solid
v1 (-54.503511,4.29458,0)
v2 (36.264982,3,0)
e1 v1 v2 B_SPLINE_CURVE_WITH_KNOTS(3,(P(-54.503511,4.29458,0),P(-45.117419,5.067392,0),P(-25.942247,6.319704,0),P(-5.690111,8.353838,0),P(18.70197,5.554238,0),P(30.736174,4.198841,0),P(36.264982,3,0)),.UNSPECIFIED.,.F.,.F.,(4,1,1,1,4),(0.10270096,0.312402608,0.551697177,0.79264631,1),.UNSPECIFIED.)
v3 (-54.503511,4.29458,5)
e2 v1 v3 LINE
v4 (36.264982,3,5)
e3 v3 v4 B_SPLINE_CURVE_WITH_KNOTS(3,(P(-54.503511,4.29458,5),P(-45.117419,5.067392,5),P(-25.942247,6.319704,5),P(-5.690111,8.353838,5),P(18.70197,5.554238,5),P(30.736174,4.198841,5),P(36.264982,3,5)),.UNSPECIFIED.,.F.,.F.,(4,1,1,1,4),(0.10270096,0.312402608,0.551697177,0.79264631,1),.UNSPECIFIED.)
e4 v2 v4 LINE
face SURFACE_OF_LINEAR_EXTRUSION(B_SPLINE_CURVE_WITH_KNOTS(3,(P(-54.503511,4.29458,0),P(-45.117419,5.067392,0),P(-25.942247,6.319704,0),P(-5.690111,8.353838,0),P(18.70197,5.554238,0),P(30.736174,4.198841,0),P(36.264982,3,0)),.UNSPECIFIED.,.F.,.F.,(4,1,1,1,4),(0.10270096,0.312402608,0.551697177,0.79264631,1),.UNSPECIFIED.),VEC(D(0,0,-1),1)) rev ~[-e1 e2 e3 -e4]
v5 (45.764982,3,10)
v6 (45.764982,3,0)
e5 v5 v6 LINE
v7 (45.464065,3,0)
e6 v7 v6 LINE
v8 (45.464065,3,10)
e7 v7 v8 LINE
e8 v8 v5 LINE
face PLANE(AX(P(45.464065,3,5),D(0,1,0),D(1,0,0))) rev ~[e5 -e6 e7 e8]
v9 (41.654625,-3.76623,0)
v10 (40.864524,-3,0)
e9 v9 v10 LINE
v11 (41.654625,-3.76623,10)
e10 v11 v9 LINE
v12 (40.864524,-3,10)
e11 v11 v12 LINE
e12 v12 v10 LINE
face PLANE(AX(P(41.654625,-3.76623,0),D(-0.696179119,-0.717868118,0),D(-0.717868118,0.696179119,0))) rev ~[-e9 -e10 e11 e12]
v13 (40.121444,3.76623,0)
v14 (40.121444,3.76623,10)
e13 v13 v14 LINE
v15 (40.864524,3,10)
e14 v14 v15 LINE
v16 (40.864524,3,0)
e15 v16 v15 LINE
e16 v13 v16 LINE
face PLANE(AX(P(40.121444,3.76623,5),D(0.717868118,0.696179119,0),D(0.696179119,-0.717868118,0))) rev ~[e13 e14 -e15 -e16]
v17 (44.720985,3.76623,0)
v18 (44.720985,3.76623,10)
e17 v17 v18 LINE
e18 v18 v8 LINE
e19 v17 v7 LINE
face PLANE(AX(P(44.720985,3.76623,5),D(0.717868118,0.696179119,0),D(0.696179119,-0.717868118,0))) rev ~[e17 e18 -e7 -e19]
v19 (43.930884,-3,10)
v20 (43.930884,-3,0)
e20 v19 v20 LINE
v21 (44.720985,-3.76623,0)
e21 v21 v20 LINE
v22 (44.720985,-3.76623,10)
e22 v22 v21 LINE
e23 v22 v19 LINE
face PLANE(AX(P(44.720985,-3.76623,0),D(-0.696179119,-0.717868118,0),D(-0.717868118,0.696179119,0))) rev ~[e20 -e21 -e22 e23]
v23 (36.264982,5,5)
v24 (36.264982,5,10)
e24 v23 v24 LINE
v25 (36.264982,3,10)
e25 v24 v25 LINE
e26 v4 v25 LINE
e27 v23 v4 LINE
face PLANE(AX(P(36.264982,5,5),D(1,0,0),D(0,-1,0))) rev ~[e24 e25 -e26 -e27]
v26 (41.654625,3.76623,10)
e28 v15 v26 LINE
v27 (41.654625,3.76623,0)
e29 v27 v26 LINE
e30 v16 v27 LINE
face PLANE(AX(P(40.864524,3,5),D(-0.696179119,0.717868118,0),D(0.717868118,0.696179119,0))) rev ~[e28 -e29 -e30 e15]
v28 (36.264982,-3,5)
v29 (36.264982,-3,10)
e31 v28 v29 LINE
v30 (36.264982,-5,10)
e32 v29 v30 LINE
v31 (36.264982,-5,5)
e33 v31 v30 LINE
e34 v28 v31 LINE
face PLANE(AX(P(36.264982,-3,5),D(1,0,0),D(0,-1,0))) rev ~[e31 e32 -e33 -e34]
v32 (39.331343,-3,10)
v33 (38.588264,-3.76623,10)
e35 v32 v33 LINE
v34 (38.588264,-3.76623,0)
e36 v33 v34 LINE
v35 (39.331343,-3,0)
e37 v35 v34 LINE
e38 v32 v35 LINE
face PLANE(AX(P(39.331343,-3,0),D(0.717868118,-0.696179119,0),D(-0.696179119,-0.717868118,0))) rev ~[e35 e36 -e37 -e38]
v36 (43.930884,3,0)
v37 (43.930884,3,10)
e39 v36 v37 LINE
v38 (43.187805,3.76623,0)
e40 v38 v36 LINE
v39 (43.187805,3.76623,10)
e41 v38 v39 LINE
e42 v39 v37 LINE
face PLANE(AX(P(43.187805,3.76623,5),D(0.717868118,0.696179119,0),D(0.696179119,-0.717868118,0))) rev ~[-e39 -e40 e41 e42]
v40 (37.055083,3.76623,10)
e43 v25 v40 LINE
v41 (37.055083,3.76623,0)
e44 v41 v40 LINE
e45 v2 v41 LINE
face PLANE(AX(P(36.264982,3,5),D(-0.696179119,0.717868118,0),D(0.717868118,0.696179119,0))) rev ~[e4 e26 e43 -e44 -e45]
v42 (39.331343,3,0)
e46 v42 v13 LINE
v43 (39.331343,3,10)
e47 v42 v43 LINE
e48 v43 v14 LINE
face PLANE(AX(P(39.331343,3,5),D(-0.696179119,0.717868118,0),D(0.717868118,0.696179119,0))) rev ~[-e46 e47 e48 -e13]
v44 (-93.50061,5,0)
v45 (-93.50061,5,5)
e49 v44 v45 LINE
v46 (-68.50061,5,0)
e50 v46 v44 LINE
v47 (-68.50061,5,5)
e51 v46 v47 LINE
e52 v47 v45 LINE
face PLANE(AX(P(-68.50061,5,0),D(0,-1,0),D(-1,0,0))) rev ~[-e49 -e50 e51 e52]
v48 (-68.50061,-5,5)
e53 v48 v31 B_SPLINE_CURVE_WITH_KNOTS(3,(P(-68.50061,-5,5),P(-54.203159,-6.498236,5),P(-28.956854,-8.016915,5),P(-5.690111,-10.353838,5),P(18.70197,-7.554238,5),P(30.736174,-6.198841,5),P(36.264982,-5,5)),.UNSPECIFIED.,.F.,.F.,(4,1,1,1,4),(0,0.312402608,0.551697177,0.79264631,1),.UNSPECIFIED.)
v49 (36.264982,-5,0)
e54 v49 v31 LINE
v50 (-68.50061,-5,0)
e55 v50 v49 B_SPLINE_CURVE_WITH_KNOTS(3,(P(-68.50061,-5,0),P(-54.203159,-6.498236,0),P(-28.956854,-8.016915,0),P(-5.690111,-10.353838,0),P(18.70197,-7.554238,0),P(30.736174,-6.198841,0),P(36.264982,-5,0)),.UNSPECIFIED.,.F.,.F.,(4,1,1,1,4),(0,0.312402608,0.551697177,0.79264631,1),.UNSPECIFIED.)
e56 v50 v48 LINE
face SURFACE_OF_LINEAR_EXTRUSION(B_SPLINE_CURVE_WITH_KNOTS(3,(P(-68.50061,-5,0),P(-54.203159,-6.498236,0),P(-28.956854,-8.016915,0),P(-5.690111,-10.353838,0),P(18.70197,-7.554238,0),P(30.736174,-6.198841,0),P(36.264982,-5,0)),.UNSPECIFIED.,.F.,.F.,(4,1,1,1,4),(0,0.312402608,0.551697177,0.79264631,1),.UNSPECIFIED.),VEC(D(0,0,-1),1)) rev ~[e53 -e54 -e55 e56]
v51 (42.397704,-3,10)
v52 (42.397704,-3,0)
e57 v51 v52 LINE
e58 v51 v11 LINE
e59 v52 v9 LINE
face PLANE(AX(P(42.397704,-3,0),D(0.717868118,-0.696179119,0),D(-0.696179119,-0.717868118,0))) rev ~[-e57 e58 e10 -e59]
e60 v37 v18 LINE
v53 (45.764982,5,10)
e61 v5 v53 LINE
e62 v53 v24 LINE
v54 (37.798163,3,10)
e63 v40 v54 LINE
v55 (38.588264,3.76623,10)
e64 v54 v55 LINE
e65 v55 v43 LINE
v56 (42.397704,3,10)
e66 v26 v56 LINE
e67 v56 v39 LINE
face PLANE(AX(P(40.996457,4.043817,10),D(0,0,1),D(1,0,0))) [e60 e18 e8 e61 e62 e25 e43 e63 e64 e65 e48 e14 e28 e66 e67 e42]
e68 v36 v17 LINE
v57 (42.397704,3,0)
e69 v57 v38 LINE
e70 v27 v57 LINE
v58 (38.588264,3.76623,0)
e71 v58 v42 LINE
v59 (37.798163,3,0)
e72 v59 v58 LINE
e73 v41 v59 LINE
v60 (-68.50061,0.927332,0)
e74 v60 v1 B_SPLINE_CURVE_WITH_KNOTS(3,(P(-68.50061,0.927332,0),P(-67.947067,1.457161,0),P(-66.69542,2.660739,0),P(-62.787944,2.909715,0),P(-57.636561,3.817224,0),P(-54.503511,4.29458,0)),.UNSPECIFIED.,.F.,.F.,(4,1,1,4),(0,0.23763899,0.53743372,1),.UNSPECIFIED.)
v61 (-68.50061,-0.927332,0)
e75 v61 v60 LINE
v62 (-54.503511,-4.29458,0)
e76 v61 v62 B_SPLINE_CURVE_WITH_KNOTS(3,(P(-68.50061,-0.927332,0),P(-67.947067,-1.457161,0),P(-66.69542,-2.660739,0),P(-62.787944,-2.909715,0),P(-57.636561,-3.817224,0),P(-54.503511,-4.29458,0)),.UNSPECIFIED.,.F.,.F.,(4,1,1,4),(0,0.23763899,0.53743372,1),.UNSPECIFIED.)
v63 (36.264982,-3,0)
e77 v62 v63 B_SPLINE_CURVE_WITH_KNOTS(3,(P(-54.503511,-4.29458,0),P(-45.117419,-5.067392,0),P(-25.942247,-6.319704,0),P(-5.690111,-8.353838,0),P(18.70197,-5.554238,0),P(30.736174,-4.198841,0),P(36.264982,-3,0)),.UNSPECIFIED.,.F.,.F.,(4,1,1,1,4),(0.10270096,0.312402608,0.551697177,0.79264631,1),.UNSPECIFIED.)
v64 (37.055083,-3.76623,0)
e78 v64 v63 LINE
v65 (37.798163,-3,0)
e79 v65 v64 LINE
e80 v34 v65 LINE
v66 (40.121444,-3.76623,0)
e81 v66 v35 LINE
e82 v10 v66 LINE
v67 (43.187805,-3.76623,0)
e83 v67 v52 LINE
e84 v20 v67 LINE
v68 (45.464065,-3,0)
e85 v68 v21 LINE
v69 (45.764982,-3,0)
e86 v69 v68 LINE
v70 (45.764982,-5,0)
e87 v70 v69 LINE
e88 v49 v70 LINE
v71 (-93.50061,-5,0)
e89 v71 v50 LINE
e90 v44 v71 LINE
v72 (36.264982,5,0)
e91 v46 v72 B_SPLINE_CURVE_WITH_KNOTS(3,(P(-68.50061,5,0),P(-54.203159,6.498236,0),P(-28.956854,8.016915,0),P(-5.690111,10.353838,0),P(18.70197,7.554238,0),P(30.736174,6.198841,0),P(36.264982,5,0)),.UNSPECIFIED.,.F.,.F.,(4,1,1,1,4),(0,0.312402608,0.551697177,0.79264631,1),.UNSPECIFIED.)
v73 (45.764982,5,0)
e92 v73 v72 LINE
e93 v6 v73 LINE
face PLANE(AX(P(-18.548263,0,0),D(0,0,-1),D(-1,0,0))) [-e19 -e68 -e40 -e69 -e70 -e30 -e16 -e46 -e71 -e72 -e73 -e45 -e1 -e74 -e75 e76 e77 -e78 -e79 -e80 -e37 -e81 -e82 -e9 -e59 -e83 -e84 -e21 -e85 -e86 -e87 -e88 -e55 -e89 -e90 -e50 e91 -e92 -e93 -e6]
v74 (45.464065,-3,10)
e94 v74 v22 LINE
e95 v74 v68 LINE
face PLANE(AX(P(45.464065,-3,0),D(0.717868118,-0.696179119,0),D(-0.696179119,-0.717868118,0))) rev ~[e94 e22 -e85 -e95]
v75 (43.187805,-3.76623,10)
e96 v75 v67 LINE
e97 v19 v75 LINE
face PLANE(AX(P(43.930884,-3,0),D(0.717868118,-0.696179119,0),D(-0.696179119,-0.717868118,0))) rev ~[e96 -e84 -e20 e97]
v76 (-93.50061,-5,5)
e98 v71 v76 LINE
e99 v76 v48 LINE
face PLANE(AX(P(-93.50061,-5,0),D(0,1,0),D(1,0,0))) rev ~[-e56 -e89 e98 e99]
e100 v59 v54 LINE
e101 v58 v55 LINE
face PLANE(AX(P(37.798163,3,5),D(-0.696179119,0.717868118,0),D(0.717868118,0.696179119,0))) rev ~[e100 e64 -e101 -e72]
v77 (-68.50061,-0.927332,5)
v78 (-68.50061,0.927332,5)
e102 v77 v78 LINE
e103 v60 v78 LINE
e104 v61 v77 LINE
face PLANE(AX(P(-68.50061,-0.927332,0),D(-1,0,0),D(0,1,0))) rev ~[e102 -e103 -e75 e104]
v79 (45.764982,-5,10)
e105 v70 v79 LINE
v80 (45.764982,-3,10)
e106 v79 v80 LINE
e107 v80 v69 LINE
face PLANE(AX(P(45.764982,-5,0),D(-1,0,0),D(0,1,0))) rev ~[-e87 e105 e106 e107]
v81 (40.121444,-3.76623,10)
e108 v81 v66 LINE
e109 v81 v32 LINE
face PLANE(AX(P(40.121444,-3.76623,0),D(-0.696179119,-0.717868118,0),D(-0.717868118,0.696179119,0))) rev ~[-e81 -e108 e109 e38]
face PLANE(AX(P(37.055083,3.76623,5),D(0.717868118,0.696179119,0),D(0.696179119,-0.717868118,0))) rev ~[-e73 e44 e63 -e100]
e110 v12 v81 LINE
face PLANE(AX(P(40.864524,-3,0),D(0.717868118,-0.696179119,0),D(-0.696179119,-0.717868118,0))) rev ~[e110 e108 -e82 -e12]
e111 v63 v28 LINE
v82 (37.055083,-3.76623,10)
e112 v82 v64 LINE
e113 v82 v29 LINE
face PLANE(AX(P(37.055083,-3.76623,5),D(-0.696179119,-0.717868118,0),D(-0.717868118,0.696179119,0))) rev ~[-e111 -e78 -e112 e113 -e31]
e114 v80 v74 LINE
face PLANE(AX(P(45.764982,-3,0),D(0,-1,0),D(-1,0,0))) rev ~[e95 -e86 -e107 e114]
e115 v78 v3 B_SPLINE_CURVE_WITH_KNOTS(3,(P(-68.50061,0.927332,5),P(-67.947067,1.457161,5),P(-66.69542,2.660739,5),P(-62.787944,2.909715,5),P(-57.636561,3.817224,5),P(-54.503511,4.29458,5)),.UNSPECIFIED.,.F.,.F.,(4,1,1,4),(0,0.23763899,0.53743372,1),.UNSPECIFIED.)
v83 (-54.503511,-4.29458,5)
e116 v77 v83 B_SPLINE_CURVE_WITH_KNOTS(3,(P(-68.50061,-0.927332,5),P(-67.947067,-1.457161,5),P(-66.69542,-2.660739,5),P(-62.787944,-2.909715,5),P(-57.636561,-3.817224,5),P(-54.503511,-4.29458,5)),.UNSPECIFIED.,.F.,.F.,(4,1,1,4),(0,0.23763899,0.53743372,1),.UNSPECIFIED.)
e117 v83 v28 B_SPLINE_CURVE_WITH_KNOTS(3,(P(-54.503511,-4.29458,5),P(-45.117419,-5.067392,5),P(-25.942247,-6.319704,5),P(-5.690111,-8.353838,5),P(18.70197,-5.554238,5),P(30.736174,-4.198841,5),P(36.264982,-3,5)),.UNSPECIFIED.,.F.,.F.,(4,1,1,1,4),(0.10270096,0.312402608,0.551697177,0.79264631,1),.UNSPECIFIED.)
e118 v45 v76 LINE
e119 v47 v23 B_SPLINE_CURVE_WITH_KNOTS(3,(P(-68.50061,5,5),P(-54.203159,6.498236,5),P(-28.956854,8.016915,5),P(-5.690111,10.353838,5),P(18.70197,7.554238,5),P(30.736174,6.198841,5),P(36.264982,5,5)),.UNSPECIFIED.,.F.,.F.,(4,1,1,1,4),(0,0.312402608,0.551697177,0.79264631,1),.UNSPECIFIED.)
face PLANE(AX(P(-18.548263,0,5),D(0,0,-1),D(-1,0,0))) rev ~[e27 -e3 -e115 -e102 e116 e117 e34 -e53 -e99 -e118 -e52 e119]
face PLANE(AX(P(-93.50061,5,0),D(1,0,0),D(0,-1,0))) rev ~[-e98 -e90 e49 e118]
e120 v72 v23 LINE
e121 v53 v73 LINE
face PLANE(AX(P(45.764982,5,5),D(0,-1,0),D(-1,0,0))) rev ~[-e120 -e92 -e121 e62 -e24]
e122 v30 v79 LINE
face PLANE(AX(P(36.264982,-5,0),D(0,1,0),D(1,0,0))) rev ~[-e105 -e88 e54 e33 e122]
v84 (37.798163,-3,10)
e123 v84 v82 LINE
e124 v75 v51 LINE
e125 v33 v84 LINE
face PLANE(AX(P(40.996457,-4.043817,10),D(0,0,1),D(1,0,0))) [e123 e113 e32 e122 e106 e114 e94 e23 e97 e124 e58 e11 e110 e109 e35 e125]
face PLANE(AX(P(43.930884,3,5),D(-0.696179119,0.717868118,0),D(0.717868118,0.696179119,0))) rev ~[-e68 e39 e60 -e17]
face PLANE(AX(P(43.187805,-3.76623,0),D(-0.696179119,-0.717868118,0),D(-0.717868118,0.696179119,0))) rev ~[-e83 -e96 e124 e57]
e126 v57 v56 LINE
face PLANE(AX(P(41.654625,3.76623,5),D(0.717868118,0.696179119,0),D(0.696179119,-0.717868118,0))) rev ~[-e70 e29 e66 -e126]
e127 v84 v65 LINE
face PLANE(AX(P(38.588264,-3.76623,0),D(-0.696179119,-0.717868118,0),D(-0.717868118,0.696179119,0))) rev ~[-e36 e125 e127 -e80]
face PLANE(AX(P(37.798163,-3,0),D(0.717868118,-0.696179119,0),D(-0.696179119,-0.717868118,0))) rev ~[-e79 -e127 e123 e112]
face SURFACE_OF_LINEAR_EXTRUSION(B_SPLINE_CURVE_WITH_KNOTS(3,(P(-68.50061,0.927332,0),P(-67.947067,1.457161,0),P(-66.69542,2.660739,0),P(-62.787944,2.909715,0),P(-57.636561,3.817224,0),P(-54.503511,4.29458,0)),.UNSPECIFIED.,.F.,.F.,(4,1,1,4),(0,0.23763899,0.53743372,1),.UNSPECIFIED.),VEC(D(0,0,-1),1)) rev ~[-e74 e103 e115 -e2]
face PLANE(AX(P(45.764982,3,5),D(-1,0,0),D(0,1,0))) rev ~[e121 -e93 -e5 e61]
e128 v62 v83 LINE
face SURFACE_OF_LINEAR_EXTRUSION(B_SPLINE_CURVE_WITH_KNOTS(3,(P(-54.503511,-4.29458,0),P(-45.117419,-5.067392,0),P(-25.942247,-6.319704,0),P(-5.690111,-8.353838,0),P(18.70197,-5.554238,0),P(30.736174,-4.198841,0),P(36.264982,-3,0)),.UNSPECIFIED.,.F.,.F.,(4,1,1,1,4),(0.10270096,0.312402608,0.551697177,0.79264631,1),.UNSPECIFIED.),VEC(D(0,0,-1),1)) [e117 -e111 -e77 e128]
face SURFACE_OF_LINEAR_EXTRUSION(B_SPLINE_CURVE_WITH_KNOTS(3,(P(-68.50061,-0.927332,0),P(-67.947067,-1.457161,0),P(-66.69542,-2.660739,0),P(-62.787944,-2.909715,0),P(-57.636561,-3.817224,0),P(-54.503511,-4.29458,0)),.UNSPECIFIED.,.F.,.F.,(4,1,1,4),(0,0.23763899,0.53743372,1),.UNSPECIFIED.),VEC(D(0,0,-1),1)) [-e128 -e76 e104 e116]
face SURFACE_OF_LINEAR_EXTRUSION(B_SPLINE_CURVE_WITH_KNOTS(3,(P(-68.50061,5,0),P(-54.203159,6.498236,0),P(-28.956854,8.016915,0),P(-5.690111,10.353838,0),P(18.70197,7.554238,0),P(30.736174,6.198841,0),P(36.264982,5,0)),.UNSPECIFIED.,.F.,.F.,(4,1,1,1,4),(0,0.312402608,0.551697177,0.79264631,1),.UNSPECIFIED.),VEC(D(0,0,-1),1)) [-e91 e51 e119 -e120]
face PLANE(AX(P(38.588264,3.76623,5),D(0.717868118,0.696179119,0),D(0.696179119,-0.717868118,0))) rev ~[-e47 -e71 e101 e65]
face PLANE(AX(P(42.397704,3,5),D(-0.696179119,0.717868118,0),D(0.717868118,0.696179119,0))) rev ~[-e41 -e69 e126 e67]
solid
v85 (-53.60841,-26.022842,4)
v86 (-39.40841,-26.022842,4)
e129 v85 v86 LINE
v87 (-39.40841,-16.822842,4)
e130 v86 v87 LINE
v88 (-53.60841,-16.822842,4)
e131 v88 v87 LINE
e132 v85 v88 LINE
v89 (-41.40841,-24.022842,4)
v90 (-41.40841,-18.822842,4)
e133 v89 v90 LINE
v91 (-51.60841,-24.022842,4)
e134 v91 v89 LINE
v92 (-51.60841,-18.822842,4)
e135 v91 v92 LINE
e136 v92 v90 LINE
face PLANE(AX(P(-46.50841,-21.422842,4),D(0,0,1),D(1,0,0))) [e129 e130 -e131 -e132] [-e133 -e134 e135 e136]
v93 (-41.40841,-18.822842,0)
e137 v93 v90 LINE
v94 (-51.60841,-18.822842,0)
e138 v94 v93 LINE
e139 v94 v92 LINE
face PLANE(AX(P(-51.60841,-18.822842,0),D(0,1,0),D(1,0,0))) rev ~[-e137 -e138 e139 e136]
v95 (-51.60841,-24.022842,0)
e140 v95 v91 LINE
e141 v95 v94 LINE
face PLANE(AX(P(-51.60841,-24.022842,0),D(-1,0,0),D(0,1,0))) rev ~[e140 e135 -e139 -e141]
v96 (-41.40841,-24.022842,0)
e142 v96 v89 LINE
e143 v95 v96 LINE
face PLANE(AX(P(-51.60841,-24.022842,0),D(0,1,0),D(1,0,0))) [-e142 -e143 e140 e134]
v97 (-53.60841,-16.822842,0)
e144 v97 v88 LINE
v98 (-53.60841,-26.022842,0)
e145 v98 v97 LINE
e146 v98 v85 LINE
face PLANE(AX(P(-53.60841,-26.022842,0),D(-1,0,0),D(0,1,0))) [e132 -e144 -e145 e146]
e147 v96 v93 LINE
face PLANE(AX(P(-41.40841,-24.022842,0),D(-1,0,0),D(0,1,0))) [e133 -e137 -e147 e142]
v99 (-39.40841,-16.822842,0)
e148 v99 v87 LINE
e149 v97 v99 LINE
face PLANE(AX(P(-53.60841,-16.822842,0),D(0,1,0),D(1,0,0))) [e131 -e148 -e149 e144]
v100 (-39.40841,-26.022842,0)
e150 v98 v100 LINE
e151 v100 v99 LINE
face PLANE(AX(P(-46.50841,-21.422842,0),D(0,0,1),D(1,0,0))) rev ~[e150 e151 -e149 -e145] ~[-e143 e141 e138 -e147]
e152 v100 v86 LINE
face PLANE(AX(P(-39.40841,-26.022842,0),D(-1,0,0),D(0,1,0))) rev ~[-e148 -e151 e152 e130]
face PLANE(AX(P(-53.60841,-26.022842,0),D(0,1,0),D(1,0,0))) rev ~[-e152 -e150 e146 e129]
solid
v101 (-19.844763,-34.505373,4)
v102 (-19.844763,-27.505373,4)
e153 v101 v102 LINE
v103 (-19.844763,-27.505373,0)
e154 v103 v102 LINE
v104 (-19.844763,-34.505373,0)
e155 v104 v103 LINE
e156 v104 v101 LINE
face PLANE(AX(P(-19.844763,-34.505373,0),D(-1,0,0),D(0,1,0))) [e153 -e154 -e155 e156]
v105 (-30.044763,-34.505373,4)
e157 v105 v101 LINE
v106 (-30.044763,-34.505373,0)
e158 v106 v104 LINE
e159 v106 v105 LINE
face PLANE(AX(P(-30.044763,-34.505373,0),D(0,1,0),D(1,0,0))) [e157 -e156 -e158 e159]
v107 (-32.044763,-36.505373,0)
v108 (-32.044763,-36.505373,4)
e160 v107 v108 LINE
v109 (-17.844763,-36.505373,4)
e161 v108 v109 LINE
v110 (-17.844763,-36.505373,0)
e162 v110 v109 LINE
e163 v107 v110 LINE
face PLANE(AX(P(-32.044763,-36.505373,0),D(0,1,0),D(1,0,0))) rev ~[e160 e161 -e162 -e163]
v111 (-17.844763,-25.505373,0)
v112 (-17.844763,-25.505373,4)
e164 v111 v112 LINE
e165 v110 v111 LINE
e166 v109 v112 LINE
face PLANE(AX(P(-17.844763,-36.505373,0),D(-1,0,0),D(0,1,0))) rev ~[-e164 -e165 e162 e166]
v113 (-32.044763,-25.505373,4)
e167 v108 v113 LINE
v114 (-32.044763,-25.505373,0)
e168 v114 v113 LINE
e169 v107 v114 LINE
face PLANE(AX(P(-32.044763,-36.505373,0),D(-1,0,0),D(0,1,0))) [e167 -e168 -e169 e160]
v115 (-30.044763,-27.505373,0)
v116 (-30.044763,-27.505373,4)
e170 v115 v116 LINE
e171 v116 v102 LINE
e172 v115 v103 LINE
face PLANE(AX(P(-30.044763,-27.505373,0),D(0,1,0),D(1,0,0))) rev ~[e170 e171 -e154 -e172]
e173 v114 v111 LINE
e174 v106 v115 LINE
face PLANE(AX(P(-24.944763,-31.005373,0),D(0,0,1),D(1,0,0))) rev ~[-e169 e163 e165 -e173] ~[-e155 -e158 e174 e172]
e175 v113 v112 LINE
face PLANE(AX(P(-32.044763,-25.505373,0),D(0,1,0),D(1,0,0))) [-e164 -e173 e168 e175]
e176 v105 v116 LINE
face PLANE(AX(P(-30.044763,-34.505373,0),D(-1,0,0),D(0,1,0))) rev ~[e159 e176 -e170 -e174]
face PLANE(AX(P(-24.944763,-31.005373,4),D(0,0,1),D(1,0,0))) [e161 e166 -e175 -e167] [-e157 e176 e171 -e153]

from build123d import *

# Parameters (mm, degrees)
F1_DEPTH = 5
F2_W     = 14.2
F2_H     = 9.2
F2_W_2   = 10.2
F2_H_2   = 5.2
F3_DEPTH = 4
F2_H_3   = 11
F2_H_4   = 7
F5_DEPTH = 5


with BuildPart() as f1:
    # F0 (on Top) → F1 (new body)
    with BuildSketch(Plane.XY):
        with BuildLine():
            add(Edge.make_bspline(
                [(-68.500610282, 5), (-54.2031592123, 6.498236069), (-28.9568536919, 8.0169149267), (-5.690111388, 10.3538383758), (18.7019701535, 7.5542384302), (30.7361740896, 6.1988411601), (36.2649820745, 5)],
                knots=[0, 0, 0, 0, 0.3124026076, 0.5516971774, 0.7926463097, 1, 1, 1, 1], degree=3))
            Line((-68.500610282, 5), (-93.500610282, 5))
            Line((-93.500610282, 5), (-93.500610282, -5))
            Line((-93.500610282, -5), (-68.500610282, -5))
            add(Edge.make_bspline(
                [(-68.500610282, -5), (-54.2031592123, -6.498236069), (-28.9568536919, -8.0169149267), (-5.690111388, -10.3538383758), (18.7019701535, -7.5542384302), (30.7361740896, -6.1988411601), (36.2649820745, -5)],
                knots=[0, 0, 0, 0, 0.3124026076, 0.5516971774, 0.7926463097, 1, 1, 1, 1], degree=3))
            Line((36.2649820745, -5), (45.7649820745, -5))
            Line((45.7649820745, -5), (45.7649820745, -3))
            Line((45.7649820745, -3), (45.4640649259, -3))
            Line((45.4640649259, -3), (44.7209854505, -3.7662296239))
            Line((44.7209854505, -3.7662296239), (43.9308844507, -3))
            Line((43.9308844507, -3), (43.1878049753, -3.7662296239))
            Line((43.1878049753, -3.7662296239), (42.3977039754, -3))
            Line((42.3977039754, -3), (41.6546245001, -3.7662296239))
            Line((41.6546245001, -3.7662296239), (40.8645235002, -3))
            Line((40.8645235002, -3), (40.1214440248, -3.7662296239))
            Line((40.1214440248, -3.7662296239), (39.331343025, -3))
            Line((39.331343025, -3), (38.5882635496, -3.7662296239))
            Line((38.5882635496, -3.7662296239), (37.7981625497, -3))
            Line((37.7981625497, -3), (37.0550830744, -3.7662296239))
            Line((37.0550830744, -3.7662296239), (36.2649820745, -3))
            add(Edge.make_bspline(
                [(-54.5035110722, -4.2945796628), (-45.1174188085, -5.0673920481), (-25.942247112, -6.3197035472), (-5.690111388, -8.3538383758), (18.7019701535, -5.5542384302), (30.7361740896, -4.1988411601), (36.2649820745, -3)],
                knots=[0.1027009604, 0.1027009604, 0.1027009604, 0.1027009604, 0.3124026076, 0.5516971774, 0.7926463097, 1, 1, 1, 1], degree=3))
            add(Edge.make_bspline(
                [(-68.500610282, -0.9273324395), (-67.9470667678, -1.4571608606), (-66.6954203062, -2.6607387972), (-62.7879440715, -2.9097150623), (-57.6365610628, -3.8172235663), (-54.5035110722, -4.2945796628)],
                knots=[0, 0, 0, 0, 0.23763899, 0.5374337196, 1, 1, 1, 1], degree=3))
            Line((-68.500610282, -0.9273324395), (-68.500610282, 0.9273324395))
            add(Edge.make_bspline(
                [(-68.500610282, 0.9273324395), (-67.9470667678, 1.4571608606), (-66.6954203062, 2.6607387972), (-62.7879440715, 2.9097150623), (-57.6365610628, 3.8172235663), (-54.5035110722, 4.2945796628)],
                knots=[0, 0, 0, 0, 0.23763899, 0.5374337196, 1, 1, 1, 1], degree=3))
            add(Edge.make_bspline(
                [(-54.5035110722, 4.2945796628), (-45.1174188085, 5.0673920481), (-25.942247112, 6.3197035472), (-5.690111388, 8.3538383758), (18.7019701535, 5.5542384302), (30.7361740896, 4.1988411601), (36.2649820745, 3)],
                knots=[0.1027009604, 0.1027009604, 0.1027009604, 0.1027009604, 0.3124026076, 0.5516971774, 0.7926463097, 1, 1, 1, 1], degree=3))
            Line((36.2649820745, 3), (37.0550830744, 3.7662296239))
            Line((37.0550830744, 3.7662296239), (37.7981625497, 3))
            Line((37.7981625497, 3), (38.5882635496, 3.7662296239))
            Line((38.5882635496, 3.7662296239), (39.331343025, 3))
            Line((39.331343025, 3), (40.1214440248, 3.7662296239))
            Line((40.1214440248, 3.7662296239), (40.8645235002, 3))
            Line((40.8645235002, 3), (41.6546245001, 3.7662296239))
            Line((41.6546245001, 3.7662296239), (42.3977039754, 3))
            Line((42.3977039754, 3), (43.1878049753, 3.7662296239))
            Line((43.1878049753, 3.7662296239), (43.9308844507, 3))
            Line((43.9308844507, 3), (44.7209854505, 3.7662296239))
            Line((44.7209854505, 3.7662296239), (45.4640649259, 3))
            Line((45.4640649259, 3), (45.7649820745, 3))
            Line((45.7649820745, 3), (45.7649820745, 5))
            Line((45.7649820745, 5), (36.2649820745, 5))
        make_face()
    extrude(amount=F1_DEPTH)

    # F4 (on face) → F5 (join)
    with BuildSketch(Plane.XY.offset(5)):
        Polygon((36.2649820745, 5), (36.2649820745, 3), (37.0550830744, 3.7662296239), (37.7981625497, 3), (38.5882635496, 3.7662296239), (39.331343025, 3), (40.1214440248, 3.7662296239), (40.8645235002, 3), (41.6546245001, 3.7662296239), (42.3977039754, 3), (43.1878049753, 3.7662296239), (43.9308844507, 3), (44.7209854505, 3.7662296239), (45.4640649259, 3), (45.7649820745, 3), (45.7649820745, 5), align=None)
        Polygon((37.0550830744, -3.7662296239), (36.2649820745, -3), (36.2649820745, -5), (45.7649820745, -5), (45.7649820745, -3), (45.4640649259, -3), (44.7209854505, -3.7662296239), (43.9308844507, -3), (43.1878049753, -3.7662296239), (42.3977039754, -3), (41.6546245001, -3.7662296239), (40.8645235002, -3), (40.1214440248, -3.7662296239), (39.331343025, -3), (38.5882635496, -3.7662296239), (37.7981625497, -3), align=None)
    extrude(amount=F5_DEPTH)


with BuildPart() as f3:
    # F2 (on Top) → F3 (new body)
    with BuildSketch(Plane.XY):
        with Locations((-46.5084100604, -21.4228421539)):
            Rectangle(F2_W, F2_H)
        with Locations((-46.5084100604, -21.4228421539)):
            Rectangle(F2_W_2, F2_H_2, mode=Mode.SUBTRACT)
    extrude(amount=F3_DEPTH)


with BuildPart() as f3b:
    # F2 (on Top) → F3, piece 2 (new body)
    with BuildSketch(Plane.XY):
        with Locations((-24.9447634608, -31.0053733885)):
            Rectangle(F2_W, F2_H_3)
        with Locations((-24.9447634608, -31.0053733885)):
            Rectangle(F2_W_2, F2_H_4, mode=Mode.SUBTRACT)
    extrude(amount=F3_DEPTH)


solid = Compound([f1.part, f3.part, f3b.part])
